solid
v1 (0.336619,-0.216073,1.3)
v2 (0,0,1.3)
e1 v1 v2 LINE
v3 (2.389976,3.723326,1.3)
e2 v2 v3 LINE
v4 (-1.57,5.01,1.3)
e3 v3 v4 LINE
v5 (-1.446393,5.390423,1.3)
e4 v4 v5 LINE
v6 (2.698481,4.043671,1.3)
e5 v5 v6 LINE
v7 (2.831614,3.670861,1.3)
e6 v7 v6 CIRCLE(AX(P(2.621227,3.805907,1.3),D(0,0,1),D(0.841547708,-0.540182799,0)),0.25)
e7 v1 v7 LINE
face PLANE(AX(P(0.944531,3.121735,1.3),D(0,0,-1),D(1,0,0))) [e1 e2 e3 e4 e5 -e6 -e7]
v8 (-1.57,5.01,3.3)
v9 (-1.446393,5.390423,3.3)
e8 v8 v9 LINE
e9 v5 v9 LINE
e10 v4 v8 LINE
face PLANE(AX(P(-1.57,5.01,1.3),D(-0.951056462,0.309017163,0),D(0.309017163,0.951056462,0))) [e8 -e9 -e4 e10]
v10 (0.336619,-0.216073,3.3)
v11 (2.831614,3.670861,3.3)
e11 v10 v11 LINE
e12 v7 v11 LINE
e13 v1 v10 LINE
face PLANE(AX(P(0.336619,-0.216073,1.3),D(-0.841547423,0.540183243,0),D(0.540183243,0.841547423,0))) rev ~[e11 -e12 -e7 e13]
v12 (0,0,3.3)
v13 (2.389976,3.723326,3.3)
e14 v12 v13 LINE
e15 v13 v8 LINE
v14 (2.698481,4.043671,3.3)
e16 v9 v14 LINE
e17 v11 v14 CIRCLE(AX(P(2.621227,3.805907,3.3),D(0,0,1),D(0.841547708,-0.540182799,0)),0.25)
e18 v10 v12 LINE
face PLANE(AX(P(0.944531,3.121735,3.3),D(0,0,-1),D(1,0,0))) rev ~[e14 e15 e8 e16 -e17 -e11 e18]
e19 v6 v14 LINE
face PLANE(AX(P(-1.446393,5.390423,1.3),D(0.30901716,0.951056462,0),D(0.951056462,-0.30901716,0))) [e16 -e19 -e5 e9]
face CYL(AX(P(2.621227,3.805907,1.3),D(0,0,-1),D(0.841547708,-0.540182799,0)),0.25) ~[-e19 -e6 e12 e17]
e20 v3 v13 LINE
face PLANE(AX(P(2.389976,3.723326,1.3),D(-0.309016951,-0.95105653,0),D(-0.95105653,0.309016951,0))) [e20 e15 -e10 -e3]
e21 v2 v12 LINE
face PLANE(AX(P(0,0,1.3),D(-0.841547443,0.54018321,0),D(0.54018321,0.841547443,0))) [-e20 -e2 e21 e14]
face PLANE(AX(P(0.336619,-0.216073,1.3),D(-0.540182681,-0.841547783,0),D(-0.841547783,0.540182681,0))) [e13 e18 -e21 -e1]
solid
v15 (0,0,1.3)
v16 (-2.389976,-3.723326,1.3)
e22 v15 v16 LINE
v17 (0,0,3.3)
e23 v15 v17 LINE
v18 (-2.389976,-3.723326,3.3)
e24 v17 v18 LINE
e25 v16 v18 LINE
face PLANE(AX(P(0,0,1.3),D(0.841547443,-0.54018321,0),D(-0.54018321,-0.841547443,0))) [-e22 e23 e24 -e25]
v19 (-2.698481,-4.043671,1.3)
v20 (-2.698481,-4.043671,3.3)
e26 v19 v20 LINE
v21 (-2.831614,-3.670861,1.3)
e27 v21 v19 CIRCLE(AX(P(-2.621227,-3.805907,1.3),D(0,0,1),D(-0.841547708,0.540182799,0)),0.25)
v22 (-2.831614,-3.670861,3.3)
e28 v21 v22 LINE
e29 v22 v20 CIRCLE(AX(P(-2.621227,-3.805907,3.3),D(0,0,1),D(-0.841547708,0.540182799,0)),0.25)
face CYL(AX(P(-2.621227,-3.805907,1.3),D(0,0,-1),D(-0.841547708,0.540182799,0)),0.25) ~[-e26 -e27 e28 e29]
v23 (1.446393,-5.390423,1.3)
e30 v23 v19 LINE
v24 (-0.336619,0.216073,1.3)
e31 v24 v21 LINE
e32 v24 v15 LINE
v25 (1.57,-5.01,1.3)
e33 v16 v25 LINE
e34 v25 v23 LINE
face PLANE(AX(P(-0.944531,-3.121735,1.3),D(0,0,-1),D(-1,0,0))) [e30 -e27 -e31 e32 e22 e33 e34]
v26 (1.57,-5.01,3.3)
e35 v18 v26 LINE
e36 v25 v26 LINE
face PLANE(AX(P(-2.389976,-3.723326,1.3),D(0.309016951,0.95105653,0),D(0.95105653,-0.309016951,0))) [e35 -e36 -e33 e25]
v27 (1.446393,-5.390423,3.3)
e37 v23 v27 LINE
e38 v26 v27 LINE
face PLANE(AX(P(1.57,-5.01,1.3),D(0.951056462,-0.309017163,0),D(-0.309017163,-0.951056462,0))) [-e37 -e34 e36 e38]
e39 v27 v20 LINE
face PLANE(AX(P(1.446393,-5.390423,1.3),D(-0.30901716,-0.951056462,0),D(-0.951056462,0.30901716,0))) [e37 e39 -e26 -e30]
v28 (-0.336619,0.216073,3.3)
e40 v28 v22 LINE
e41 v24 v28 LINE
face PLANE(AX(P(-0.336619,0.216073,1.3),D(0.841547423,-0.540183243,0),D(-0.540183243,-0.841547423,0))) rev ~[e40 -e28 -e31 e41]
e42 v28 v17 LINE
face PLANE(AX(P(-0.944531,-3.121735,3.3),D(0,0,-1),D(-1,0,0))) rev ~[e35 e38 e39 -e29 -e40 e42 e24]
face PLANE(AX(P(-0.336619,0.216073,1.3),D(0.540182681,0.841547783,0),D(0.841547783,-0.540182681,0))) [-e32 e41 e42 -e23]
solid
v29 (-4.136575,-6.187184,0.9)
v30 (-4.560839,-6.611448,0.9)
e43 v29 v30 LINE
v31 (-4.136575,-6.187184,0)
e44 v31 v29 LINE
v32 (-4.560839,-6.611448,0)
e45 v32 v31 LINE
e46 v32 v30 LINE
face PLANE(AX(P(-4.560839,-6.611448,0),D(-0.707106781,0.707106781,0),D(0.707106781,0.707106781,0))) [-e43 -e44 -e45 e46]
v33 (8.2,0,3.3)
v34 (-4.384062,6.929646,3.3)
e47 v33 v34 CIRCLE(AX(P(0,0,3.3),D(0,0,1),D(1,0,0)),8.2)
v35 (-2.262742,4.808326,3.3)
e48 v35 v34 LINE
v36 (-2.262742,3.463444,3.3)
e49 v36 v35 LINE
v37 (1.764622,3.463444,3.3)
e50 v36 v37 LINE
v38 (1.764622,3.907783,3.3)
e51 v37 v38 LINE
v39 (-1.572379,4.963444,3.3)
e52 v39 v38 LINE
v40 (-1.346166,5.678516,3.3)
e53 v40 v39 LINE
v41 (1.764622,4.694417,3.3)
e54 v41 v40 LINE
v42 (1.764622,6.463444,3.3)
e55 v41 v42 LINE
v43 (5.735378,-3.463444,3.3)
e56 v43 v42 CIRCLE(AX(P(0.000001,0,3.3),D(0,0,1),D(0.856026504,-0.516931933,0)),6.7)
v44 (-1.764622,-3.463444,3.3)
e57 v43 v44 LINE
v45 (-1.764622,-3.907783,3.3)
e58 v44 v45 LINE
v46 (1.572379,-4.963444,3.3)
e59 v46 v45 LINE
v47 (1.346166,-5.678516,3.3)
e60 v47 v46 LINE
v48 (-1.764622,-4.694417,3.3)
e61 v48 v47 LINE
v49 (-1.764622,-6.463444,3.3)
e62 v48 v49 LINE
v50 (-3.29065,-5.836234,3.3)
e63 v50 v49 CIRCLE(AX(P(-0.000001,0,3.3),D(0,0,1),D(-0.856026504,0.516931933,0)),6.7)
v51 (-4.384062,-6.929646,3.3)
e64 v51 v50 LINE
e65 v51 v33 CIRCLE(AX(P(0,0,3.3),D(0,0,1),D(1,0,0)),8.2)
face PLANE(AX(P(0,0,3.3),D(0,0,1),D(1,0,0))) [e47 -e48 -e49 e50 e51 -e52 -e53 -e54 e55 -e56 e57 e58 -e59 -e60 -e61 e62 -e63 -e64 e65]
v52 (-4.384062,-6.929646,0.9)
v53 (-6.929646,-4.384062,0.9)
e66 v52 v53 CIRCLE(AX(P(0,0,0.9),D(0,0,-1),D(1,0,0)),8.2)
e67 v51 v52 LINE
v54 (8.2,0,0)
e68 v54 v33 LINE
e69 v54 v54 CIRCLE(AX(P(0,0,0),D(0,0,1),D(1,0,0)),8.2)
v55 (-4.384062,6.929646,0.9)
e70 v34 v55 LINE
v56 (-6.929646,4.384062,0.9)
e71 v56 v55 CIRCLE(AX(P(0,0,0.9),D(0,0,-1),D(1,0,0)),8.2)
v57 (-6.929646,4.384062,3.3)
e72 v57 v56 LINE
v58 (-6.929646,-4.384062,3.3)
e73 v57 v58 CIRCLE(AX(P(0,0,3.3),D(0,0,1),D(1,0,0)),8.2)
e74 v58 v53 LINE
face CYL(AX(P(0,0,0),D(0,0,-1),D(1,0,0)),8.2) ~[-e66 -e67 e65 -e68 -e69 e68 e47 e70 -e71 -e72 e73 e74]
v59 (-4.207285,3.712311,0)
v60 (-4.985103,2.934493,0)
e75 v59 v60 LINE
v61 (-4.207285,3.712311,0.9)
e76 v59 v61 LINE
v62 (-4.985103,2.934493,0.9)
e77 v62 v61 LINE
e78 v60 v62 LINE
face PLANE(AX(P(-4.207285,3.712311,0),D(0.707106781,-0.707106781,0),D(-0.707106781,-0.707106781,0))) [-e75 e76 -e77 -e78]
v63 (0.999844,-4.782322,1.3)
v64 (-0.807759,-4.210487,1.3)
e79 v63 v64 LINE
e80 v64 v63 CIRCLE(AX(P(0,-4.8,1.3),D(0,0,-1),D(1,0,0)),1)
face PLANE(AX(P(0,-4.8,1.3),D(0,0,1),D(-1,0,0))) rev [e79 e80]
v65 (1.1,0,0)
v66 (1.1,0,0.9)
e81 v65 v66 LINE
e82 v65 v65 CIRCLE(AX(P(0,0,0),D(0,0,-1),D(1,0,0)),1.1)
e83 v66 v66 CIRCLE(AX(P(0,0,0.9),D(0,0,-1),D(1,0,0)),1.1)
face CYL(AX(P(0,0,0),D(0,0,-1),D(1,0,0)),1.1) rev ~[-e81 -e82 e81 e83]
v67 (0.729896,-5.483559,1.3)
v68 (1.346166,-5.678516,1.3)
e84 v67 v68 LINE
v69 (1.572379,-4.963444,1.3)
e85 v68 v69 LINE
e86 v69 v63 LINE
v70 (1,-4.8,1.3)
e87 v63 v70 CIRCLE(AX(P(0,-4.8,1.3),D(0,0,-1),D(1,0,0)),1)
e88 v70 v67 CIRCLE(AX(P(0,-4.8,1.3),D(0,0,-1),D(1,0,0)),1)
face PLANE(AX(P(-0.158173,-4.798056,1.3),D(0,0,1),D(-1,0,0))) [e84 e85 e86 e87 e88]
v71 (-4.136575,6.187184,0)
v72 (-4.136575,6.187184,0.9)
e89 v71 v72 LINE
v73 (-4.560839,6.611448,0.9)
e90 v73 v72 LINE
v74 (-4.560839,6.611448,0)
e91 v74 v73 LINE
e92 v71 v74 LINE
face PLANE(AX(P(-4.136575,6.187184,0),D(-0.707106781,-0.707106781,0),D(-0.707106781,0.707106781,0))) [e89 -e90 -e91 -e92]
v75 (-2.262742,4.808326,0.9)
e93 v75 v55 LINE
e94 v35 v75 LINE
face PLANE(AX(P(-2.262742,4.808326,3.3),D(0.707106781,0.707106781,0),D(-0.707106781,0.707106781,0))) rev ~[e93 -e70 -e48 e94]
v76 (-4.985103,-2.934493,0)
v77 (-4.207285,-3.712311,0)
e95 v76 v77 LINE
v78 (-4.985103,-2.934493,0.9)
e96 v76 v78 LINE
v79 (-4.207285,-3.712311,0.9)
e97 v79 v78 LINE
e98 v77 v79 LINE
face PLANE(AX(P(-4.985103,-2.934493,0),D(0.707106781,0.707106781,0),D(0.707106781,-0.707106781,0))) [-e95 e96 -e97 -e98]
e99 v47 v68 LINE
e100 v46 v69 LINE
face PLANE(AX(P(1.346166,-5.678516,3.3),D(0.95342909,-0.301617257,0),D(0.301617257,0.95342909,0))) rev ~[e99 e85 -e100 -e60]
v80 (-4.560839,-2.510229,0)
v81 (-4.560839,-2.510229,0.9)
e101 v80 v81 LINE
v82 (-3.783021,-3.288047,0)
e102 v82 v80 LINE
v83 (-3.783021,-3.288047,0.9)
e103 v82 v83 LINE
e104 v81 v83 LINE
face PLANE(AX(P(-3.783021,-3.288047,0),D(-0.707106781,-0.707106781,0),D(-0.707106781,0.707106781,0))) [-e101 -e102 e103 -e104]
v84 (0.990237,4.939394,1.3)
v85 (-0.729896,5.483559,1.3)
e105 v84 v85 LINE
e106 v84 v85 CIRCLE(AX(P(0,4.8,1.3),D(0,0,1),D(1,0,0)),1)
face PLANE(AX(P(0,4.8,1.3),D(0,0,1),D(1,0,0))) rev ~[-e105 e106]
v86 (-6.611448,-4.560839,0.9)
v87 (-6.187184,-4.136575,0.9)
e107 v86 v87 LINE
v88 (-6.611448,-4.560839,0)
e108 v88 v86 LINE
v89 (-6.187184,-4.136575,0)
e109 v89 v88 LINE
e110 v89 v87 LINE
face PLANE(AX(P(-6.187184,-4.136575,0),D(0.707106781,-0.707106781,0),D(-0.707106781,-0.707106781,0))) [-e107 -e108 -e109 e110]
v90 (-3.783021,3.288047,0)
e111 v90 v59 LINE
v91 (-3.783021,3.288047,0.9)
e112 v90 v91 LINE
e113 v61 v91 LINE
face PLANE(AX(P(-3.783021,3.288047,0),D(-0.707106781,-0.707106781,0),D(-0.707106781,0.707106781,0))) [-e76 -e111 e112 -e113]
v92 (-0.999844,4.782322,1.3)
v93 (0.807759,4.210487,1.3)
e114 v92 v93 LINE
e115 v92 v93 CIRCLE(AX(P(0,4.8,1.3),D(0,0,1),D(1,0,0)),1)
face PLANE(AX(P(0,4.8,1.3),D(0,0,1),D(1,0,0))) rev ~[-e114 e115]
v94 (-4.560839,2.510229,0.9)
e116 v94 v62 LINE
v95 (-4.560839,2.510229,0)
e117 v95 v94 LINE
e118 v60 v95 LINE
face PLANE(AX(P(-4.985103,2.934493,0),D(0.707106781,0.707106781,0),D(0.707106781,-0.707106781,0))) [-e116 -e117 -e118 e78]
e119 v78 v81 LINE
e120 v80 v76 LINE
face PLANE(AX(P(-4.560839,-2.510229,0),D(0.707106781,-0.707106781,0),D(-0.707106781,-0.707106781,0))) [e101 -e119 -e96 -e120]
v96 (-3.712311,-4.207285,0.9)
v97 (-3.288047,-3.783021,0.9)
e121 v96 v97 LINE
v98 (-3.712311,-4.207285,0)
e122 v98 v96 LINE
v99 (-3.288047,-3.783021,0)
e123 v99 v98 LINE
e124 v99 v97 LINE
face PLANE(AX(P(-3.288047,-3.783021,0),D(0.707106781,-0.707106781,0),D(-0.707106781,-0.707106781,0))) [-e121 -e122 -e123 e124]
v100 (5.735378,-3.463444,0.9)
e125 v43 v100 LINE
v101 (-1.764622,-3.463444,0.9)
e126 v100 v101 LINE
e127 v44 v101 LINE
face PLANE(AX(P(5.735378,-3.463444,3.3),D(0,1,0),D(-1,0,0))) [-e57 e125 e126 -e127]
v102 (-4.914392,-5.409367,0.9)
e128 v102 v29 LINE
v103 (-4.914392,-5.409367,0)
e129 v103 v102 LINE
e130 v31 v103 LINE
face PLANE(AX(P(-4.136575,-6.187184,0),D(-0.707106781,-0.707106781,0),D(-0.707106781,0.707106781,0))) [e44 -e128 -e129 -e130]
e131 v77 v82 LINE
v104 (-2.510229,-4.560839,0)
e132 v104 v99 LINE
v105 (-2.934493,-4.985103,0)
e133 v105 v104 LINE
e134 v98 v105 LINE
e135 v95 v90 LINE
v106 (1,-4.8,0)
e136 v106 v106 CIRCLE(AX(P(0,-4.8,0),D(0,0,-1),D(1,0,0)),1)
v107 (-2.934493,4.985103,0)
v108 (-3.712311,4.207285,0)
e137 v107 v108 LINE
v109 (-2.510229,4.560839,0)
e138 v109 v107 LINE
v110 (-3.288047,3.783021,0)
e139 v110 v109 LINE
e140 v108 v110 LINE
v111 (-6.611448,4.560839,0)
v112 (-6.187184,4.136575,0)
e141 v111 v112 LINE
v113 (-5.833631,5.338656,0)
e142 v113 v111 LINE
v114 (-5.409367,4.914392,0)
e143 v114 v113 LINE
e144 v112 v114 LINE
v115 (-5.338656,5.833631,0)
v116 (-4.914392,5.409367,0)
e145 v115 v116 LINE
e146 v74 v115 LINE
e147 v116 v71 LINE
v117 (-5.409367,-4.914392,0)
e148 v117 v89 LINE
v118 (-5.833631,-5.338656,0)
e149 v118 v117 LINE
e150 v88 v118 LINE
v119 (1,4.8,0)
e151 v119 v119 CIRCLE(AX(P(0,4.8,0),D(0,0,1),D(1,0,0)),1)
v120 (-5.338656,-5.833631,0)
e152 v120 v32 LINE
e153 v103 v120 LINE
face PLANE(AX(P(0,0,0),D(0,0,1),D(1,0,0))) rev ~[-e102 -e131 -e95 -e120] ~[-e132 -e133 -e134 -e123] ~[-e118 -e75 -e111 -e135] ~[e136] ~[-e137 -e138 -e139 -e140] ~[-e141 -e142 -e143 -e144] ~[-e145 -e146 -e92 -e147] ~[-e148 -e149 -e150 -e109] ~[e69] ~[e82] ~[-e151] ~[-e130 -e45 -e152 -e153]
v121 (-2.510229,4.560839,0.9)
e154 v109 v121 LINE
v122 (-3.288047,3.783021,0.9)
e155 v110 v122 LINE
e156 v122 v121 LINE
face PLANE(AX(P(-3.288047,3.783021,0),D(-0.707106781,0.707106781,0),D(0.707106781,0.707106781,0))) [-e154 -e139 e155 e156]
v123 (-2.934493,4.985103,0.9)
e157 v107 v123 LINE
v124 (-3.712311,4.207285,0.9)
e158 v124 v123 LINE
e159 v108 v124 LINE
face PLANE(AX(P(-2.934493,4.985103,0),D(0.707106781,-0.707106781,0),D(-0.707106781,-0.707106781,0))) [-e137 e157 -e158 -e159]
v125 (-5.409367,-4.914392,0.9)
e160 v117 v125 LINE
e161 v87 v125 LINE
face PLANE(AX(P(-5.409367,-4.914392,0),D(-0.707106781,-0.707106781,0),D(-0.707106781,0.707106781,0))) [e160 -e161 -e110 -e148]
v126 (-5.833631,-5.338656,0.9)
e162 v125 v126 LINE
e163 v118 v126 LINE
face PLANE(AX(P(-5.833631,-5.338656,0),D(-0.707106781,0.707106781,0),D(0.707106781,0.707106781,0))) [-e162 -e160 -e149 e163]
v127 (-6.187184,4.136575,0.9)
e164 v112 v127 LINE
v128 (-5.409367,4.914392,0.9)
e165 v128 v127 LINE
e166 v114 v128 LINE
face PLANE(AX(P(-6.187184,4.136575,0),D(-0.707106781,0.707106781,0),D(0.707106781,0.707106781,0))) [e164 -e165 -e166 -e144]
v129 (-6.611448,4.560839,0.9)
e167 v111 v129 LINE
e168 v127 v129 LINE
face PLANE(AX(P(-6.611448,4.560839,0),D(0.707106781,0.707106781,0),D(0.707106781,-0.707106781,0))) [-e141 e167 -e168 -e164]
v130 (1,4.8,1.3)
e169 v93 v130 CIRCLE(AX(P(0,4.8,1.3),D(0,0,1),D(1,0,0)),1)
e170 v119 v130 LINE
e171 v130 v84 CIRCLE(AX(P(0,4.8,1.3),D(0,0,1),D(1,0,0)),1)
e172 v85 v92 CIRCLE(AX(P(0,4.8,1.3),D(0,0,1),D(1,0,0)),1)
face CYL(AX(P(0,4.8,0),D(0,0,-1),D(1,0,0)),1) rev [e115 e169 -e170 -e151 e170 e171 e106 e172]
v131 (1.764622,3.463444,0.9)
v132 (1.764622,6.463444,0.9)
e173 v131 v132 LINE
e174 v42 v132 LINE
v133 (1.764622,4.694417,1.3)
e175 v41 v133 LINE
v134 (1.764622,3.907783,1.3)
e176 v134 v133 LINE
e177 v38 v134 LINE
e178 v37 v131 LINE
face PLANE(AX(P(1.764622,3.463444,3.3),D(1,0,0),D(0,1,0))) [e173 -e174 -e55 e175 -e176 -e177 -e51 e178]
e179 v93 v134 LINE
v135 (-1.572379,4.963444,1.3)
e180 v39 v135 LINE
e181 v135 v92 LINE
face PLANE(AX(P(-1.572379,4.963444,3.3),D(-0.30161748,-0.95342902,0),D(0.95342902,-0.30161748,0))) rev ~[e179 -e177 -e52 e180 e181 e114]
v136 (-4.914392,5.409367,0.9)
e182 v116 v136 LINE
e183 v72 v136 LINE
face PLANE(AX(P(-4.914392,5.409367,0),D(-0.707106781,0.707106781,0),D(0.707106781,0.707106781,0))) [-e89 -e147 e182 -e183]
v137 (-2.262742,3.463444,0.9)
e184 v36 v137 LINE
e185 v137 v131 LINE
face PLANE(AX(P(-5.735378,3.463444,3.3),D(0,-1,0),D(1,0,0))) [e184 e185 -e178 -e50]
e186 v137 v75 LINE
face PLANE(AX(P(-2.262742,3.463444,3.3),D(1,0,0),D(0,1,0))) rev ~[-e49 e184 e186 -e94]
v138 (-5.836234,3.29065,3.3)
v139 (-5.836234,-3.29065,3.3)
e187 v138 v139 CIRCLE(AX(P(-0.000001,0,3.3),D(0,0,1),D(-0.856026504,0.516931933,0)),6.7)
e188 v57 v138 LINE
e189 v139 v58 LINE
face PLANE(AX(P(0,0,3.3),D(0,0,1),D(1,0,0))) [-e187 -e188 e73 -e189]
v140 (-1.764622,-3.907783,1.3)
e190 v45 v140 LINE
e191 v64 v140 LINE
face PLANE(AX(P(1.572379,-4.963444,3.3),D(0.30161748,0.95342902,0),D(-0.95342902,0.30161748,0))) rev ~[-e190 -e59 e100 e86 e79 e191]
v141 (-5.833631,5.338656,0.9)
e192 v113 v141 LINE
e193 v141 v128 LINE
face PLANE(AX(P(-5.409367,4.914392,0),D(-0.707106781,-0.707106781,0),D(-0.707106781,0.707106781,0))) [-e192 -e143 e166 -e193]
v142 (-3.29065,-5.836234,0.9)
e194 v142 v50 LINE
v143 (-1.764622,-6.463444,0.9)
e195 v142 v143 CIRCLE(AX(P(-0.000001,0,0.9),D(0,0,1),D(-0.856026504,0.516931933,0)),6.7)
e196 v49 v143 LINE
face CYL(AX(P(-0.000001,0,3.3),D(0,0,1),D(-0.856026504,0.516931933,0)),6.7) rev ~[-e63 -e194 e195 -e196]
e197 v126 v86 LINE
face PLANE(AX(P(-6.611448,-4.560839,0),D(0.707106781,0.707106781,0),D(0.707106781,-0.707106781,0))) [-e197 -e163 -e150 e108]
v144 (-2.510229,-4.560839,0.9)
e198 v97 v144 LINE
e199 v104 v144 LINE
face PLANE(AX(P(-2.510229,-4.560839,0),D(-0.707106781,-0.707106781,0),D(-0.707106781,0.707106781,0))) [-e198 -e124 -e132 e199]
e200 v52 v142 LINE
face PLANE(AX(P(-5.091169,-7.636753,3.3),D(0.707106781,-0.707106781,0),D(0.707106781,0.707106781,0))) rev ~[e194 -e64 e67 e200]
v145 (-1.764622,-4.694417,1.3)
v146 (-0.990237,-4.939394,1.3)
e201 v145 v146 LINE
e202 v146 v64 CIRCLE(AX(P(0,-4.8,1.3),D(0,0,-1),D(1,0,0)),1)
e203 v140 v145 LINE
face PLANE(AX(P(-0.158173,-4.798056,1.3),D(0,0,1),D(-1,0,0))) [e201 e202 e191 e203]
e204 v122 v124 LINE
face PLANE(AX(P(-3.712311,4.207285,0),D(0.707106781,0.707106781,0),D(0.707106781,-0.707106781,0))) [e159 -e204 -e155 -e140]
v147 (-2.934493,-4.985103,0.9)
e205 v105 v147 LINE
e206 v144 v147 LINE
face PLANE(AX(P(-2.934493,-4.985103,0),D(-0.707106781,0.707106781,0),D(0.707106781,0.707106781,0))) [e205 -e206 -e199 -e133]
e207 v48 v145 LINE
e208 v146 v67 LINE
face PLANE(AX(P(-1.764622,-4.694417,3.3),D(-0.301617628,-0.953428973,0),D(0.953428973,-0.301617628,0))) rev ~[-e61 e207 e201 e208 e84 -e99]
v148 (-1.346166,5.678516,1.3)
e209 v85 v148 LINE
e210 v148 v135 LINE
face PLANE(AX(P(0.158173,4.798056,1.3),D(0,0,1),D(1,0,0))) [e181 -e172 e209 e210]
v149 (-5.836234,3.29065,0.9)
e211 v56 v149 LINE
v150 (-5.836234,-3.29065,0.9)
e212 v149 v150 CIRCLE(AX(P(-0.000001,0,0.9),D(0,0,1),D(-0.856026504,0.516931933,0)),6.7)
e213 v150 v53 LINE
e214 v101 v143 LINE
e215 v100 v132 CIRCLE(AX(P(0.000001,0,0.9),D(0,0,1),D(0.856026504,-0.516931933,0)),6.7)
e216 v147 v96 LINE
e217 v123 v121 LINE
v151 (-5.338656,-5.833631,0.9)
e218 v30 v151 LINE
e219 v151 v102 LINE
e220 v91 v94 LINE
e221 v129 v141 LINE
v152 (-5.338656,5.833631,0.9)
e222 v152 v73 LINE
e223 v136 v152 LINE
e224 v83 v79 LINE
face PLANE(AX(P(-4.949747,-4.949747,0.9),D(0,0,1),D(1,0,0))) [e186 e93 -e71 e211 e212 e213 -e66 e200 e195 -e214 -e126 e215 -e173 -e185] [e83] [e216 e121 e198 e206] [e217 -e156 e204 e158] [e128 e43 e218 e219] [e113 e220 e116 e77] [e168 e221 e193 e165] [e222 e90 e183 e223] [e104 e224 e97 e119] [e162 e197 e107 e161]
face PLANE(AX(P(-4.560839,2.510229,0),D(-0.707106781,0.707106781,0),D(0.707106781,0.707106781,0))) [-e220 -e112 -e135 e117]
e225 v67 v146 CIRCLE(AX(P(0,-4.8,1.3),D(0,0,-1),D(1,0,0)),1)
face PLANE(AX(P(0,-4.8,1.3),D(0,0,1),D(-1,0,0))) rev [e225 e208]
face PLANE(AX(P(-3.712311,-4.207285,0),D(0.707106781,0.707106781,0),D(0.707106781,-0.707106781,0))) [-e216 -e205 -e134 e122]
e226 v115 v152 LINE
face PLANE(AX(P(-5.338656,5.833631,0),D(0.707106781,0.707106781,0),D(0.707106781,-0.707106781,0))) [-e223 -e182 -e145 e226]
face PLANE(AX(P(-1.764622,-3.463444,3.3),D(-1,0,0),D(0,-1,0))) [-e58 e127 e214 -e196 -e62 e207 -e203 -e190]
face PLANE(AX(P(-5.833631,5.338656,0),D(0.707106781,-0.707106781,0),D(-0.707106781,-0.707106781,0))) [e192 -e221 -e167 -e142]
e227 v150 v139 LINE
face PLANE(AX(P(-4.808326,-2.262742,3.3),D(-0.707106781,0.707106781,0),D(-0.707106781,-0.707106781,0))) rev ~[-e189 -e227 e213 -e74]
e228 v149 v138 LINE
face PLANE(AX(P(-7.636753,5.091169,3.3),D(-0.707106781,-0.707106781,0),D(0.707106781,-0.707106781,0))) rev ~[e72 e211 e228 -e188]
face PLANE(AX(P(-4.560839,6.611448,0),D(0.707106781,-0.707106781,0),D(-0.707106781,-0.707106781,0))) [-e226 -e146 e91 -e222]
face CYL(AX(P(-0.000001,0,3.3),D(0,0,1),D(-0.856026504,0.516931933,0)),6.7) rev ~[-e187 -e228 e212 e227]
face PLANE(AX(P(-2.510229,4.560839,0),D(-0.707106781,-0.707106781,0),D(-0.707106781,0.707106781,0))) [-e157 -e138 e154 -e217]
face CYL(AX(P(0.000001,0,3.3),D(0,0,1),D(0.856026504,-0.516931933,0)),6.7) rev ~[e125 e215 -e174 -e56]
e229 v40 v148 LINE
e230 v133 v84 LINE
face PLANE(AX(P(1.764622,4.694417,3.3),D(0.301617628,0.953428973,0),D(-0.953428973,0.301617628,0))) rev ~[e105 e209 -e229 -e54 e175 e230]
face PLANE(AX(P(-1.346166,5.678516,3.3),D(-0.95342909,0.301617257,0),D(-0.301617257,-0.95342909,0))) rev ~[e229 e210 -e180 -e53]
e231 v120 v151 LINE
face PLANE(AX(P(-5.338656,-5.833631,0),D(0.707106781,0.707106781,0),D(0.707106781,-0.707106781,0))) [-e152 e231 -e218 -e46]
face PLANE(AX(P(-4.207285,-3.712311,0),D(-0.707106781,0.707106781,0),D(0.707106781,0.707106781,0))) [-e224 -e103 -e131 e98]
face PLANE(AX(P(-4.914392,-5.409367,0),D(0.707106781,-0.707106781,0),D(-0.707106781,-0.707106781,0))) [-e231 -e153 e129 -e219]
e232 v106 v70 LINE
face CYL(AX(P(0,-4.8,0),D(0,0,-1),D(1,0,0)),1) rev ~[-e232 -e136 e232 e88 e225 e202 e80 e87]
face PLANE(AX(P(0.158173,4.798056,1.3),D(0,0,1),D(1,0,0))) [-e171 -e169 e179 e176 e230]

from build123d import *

# Parameters (mm, degrees)
SKETCH_R                = 8.2
PAD_DEPTH               = 3.3
POCKET_DEPTH            = 2.4
POCKET001_DEPTH         = 2
POLARPATTERN_COUNT      = 2
POCKET002_DEPTH         = 2.4
SKETCH006_R             = 1.1
POCKET003_DEPTH         = 3.301
POCKET004_DEPTH         = 50.154388
POLARPATTERN001_COUNT   = 2
POLARPATTERN001_ANGLE   = 90
SKETCH008_R             = 1
POCKET005_DEPTH         = 1.3
SKETCH009_W             = 1.344882
SKETCH009_H             = 1.344882
POCKET006_DEPTH         = 2.4
PAD001_DEPTH            = 2
PAD002_DEPTH            = 2
BODY002_PLACEMENT_ANGLE = 180


with BuildPart() as lid:
    # Sketch → Pad (new body)
    with BuildSketch(Plane.XY):
        Circle(SKETCH_R)
    extrude(amount=PAD_DEPTH)

    # Sketch001 (on Face3 of Pad) → Pocket (cut)
    with BuildSketch(Plane.XY.offset(3.3)):
        with BuildLine():
            ThreePointArc((5.735378, -3.463444), (6.220794, 2.488318), (1.764622, 6.463444))
            Line((1.764622, 3.463444), (1.764622, 6.463444))
            Line((-5.735378, 3.463444), (1.764622, 3.463444))
            ThreePointArc((-5.735378, 3.463444), (-6.220794, -2.488318), (-1.764622, -6.463444))
            Line((-1.764622, -3.463444), (-1.764622, -6.463444))
            Line((5.735378, -3.463444), (-1.764622, -3.463444))
        make_face()
    extrude(amount=-POCKET_DEPTH, mode=Mode.SUBTRACT)

    # Sketch002 (on Face3 of Pocket) → Pocket001 (cut)
    with BuildSketch(Plane.XY.offset(3.3)):
        Polygon((-1.572379, 4.963444), (1.764622, 3.907783), (1.764622, 4.694417), (-1.346166, 5.678516), align=None)
    pocket001 = extrude(amount=-POCKET001_DEPTH, mode=Mode.SUBTRACT)

    # PolarPattern: Pocket001 ×2 about axis
    polarpattern_axis = Axis((0, 0, 3.3), (0, 0, 1))
    for i in range(1, POLARPATTERN_COUNT):
        add(pocket001.rotate(polarpattern_axis, i * 360 / POLARPATTERN_COUNT), mode=Mode.SUBTRACT)

    # Sketch003 (on Face3 of PolarPattern) → Pocket002 (cut)
    with BuildSketch(Plane.XY.offset(3.3)):
        Polygon((-2.262742, -4.808326), (-4.808326, -2.262742), (-6.929646, -4.384062), (-7.636753, -5.091169), (-5.091169, -7.636753), (-4.384062, -6.929646), align=None)
        Polygon((-4.808326, 2.262742), (-2.262742, 4.808326), (-4.384062, 6.929646), (-5.091169, 7.636753), (-7.636753, 5.091169), (-6.929646, 4.384062), align=None)
    extrude(amount=-POCKET002_DEPTH, mode=Mode.SUBTRACT)

    # Sketch006 (on Face2 of Pocket002) → Pocket003 (cut, through all)
    with BuildSketch(Plane(origin=(0, 0, 0), x_dir=(1, 0, 0), z_dir=(0, 0, -1))):
        Circle(SKETCH006_R)
    extrude(amount=-POCKET003_DEPTH, mode=Mode.SUBTRACT)

    # Sketch007 → Pocket004 (cut, through all)
    with BuildSketch(Plane.XY):
        Polygon((-4.560839, -2.510229), (-4.985103, -2.934493), (-4.207285, -3.712311), (-3.783021, -3.288047), align=None)
        Polygon((-3.712311, -4.207285), (-2.934493, -4.985103), (-2.510229, -4.560839), (-3.288047, -3.783021), align=None)
        Polygon((-5.338656, -5.833631), (-4.560839, -6.611448), (-4.136575, -6.187184), (-4.914392, -5.409367), align=None)
        Polygon((-6.611448, -4.560839), (-5.833631, -5.338656), (-5.409367, -4.914392), (-6.187184, -4.136575), align=None)
    pocket004 = extrude(amount=POCKET004_DEPTH, mode=Mode.SUBTRACT)

    # PolarPattern001: Pocket004 ×2 about axis
    polarpattern001_axis = Axis((0, 0, 0), (0, 0, -1))
    for i in range(1, POLARPATTERN001_COUNT):
        add(pocket004.rotate(polarpattern001_axis, i * POLARPATTERN001_ANGLE / (POLARPATTERN001_COUNT - 1)), mode=Mode.SUBTRACT)

    # Sketch008 → Pocket005 (cut)
    with BuildSketch(Plane.XY):
        with Locations((0, 4.8)):
            Circle(SKETCH008_R)
    pocket005 = extrude(amount=POCKET005_DEPTH, mode=Mode.SUBTRACT)

    # Mirrored: Pocket005 across XZ
    add(pocket005.mirror(Plane.XZ), mode=Mode.SUBTRACT)

    # Sketch009 (on Face3 of Mirrored) → Pocket006 (cut)
    with BuildSketch(Plane.XY.offset(3.3)):
        with Locations((-2.935183, 4.135885)):
            Rectangle(SKETCH009_W, SKETCH009_H)
    extrude(amount=-POCKET006_DEPTH, mode=Mode.SUBTRACT)


with BuildPart() as body001:
    # Sketch004 → Pad001 (new body)
    with BuildSketch(Plane.XY):
        with BuildLine():
            Line((0, 0), (-2.389976, -3.723326))
            Line((-2.389976, -3.723326), (1.57, -5.01))
            Line((1.57, -5.01), (1.446393, -5.390423))
            Line((1.446393, -5.390423), (-2.698481, -4.043671))
            ThreePointArc((-2.831614, -3.670861), (-2.856665, -3.889984), (-2.698481, -4.043671))
            Line((-0.336619, 0.216073), (-2.831614, -3.670861))
            Line((-0.336619, 0.216073), (0, 0))
        make_face()
    extrude(amount=PAD001_DEPTH)


with BuildPart() as body001_1:
    # Body001 placement: moved
    add(body001.part.moved(Location((0, 0, 1.3))))


with BuildPart() as body002:
    # Sketch005 → Pad002 (new body)
    with BuildSketch(Plane.XY):
        with BuildLine():
            Line((0, 0), (-2.389976, -3.723326))
            Line((-2.389976, -3.723326), (1.57, -5.01))
            Line((1.57, -5.01), (1.446393, -5.390423))
            Line((1.446393, -5.390423), (-2.698481, -4.043671))
            ThreePointArc((-2.831614, -3.670861), (-2.856665, -3.889984), (-2.698481, -4.043671))
            Line((-0.336619, 0.216073), (-2.831614, -3.670861))
            Line((-0.336619, 0.216073), (0, 0))
        make_face()
    extrude(amount=PAD002_DEPTH)


with BuildPart() as body002_1:
    # Body002 placement: moved
    add(body002.part.moved(Location((0, 0, 1.3))).rotate(Axis((0, 0, 1.3), (0, 0, 1)), BODY002_PLACEMENT_ANGLE))


solid = Compound([lid.part, body001_1.part, body002_1.part])
